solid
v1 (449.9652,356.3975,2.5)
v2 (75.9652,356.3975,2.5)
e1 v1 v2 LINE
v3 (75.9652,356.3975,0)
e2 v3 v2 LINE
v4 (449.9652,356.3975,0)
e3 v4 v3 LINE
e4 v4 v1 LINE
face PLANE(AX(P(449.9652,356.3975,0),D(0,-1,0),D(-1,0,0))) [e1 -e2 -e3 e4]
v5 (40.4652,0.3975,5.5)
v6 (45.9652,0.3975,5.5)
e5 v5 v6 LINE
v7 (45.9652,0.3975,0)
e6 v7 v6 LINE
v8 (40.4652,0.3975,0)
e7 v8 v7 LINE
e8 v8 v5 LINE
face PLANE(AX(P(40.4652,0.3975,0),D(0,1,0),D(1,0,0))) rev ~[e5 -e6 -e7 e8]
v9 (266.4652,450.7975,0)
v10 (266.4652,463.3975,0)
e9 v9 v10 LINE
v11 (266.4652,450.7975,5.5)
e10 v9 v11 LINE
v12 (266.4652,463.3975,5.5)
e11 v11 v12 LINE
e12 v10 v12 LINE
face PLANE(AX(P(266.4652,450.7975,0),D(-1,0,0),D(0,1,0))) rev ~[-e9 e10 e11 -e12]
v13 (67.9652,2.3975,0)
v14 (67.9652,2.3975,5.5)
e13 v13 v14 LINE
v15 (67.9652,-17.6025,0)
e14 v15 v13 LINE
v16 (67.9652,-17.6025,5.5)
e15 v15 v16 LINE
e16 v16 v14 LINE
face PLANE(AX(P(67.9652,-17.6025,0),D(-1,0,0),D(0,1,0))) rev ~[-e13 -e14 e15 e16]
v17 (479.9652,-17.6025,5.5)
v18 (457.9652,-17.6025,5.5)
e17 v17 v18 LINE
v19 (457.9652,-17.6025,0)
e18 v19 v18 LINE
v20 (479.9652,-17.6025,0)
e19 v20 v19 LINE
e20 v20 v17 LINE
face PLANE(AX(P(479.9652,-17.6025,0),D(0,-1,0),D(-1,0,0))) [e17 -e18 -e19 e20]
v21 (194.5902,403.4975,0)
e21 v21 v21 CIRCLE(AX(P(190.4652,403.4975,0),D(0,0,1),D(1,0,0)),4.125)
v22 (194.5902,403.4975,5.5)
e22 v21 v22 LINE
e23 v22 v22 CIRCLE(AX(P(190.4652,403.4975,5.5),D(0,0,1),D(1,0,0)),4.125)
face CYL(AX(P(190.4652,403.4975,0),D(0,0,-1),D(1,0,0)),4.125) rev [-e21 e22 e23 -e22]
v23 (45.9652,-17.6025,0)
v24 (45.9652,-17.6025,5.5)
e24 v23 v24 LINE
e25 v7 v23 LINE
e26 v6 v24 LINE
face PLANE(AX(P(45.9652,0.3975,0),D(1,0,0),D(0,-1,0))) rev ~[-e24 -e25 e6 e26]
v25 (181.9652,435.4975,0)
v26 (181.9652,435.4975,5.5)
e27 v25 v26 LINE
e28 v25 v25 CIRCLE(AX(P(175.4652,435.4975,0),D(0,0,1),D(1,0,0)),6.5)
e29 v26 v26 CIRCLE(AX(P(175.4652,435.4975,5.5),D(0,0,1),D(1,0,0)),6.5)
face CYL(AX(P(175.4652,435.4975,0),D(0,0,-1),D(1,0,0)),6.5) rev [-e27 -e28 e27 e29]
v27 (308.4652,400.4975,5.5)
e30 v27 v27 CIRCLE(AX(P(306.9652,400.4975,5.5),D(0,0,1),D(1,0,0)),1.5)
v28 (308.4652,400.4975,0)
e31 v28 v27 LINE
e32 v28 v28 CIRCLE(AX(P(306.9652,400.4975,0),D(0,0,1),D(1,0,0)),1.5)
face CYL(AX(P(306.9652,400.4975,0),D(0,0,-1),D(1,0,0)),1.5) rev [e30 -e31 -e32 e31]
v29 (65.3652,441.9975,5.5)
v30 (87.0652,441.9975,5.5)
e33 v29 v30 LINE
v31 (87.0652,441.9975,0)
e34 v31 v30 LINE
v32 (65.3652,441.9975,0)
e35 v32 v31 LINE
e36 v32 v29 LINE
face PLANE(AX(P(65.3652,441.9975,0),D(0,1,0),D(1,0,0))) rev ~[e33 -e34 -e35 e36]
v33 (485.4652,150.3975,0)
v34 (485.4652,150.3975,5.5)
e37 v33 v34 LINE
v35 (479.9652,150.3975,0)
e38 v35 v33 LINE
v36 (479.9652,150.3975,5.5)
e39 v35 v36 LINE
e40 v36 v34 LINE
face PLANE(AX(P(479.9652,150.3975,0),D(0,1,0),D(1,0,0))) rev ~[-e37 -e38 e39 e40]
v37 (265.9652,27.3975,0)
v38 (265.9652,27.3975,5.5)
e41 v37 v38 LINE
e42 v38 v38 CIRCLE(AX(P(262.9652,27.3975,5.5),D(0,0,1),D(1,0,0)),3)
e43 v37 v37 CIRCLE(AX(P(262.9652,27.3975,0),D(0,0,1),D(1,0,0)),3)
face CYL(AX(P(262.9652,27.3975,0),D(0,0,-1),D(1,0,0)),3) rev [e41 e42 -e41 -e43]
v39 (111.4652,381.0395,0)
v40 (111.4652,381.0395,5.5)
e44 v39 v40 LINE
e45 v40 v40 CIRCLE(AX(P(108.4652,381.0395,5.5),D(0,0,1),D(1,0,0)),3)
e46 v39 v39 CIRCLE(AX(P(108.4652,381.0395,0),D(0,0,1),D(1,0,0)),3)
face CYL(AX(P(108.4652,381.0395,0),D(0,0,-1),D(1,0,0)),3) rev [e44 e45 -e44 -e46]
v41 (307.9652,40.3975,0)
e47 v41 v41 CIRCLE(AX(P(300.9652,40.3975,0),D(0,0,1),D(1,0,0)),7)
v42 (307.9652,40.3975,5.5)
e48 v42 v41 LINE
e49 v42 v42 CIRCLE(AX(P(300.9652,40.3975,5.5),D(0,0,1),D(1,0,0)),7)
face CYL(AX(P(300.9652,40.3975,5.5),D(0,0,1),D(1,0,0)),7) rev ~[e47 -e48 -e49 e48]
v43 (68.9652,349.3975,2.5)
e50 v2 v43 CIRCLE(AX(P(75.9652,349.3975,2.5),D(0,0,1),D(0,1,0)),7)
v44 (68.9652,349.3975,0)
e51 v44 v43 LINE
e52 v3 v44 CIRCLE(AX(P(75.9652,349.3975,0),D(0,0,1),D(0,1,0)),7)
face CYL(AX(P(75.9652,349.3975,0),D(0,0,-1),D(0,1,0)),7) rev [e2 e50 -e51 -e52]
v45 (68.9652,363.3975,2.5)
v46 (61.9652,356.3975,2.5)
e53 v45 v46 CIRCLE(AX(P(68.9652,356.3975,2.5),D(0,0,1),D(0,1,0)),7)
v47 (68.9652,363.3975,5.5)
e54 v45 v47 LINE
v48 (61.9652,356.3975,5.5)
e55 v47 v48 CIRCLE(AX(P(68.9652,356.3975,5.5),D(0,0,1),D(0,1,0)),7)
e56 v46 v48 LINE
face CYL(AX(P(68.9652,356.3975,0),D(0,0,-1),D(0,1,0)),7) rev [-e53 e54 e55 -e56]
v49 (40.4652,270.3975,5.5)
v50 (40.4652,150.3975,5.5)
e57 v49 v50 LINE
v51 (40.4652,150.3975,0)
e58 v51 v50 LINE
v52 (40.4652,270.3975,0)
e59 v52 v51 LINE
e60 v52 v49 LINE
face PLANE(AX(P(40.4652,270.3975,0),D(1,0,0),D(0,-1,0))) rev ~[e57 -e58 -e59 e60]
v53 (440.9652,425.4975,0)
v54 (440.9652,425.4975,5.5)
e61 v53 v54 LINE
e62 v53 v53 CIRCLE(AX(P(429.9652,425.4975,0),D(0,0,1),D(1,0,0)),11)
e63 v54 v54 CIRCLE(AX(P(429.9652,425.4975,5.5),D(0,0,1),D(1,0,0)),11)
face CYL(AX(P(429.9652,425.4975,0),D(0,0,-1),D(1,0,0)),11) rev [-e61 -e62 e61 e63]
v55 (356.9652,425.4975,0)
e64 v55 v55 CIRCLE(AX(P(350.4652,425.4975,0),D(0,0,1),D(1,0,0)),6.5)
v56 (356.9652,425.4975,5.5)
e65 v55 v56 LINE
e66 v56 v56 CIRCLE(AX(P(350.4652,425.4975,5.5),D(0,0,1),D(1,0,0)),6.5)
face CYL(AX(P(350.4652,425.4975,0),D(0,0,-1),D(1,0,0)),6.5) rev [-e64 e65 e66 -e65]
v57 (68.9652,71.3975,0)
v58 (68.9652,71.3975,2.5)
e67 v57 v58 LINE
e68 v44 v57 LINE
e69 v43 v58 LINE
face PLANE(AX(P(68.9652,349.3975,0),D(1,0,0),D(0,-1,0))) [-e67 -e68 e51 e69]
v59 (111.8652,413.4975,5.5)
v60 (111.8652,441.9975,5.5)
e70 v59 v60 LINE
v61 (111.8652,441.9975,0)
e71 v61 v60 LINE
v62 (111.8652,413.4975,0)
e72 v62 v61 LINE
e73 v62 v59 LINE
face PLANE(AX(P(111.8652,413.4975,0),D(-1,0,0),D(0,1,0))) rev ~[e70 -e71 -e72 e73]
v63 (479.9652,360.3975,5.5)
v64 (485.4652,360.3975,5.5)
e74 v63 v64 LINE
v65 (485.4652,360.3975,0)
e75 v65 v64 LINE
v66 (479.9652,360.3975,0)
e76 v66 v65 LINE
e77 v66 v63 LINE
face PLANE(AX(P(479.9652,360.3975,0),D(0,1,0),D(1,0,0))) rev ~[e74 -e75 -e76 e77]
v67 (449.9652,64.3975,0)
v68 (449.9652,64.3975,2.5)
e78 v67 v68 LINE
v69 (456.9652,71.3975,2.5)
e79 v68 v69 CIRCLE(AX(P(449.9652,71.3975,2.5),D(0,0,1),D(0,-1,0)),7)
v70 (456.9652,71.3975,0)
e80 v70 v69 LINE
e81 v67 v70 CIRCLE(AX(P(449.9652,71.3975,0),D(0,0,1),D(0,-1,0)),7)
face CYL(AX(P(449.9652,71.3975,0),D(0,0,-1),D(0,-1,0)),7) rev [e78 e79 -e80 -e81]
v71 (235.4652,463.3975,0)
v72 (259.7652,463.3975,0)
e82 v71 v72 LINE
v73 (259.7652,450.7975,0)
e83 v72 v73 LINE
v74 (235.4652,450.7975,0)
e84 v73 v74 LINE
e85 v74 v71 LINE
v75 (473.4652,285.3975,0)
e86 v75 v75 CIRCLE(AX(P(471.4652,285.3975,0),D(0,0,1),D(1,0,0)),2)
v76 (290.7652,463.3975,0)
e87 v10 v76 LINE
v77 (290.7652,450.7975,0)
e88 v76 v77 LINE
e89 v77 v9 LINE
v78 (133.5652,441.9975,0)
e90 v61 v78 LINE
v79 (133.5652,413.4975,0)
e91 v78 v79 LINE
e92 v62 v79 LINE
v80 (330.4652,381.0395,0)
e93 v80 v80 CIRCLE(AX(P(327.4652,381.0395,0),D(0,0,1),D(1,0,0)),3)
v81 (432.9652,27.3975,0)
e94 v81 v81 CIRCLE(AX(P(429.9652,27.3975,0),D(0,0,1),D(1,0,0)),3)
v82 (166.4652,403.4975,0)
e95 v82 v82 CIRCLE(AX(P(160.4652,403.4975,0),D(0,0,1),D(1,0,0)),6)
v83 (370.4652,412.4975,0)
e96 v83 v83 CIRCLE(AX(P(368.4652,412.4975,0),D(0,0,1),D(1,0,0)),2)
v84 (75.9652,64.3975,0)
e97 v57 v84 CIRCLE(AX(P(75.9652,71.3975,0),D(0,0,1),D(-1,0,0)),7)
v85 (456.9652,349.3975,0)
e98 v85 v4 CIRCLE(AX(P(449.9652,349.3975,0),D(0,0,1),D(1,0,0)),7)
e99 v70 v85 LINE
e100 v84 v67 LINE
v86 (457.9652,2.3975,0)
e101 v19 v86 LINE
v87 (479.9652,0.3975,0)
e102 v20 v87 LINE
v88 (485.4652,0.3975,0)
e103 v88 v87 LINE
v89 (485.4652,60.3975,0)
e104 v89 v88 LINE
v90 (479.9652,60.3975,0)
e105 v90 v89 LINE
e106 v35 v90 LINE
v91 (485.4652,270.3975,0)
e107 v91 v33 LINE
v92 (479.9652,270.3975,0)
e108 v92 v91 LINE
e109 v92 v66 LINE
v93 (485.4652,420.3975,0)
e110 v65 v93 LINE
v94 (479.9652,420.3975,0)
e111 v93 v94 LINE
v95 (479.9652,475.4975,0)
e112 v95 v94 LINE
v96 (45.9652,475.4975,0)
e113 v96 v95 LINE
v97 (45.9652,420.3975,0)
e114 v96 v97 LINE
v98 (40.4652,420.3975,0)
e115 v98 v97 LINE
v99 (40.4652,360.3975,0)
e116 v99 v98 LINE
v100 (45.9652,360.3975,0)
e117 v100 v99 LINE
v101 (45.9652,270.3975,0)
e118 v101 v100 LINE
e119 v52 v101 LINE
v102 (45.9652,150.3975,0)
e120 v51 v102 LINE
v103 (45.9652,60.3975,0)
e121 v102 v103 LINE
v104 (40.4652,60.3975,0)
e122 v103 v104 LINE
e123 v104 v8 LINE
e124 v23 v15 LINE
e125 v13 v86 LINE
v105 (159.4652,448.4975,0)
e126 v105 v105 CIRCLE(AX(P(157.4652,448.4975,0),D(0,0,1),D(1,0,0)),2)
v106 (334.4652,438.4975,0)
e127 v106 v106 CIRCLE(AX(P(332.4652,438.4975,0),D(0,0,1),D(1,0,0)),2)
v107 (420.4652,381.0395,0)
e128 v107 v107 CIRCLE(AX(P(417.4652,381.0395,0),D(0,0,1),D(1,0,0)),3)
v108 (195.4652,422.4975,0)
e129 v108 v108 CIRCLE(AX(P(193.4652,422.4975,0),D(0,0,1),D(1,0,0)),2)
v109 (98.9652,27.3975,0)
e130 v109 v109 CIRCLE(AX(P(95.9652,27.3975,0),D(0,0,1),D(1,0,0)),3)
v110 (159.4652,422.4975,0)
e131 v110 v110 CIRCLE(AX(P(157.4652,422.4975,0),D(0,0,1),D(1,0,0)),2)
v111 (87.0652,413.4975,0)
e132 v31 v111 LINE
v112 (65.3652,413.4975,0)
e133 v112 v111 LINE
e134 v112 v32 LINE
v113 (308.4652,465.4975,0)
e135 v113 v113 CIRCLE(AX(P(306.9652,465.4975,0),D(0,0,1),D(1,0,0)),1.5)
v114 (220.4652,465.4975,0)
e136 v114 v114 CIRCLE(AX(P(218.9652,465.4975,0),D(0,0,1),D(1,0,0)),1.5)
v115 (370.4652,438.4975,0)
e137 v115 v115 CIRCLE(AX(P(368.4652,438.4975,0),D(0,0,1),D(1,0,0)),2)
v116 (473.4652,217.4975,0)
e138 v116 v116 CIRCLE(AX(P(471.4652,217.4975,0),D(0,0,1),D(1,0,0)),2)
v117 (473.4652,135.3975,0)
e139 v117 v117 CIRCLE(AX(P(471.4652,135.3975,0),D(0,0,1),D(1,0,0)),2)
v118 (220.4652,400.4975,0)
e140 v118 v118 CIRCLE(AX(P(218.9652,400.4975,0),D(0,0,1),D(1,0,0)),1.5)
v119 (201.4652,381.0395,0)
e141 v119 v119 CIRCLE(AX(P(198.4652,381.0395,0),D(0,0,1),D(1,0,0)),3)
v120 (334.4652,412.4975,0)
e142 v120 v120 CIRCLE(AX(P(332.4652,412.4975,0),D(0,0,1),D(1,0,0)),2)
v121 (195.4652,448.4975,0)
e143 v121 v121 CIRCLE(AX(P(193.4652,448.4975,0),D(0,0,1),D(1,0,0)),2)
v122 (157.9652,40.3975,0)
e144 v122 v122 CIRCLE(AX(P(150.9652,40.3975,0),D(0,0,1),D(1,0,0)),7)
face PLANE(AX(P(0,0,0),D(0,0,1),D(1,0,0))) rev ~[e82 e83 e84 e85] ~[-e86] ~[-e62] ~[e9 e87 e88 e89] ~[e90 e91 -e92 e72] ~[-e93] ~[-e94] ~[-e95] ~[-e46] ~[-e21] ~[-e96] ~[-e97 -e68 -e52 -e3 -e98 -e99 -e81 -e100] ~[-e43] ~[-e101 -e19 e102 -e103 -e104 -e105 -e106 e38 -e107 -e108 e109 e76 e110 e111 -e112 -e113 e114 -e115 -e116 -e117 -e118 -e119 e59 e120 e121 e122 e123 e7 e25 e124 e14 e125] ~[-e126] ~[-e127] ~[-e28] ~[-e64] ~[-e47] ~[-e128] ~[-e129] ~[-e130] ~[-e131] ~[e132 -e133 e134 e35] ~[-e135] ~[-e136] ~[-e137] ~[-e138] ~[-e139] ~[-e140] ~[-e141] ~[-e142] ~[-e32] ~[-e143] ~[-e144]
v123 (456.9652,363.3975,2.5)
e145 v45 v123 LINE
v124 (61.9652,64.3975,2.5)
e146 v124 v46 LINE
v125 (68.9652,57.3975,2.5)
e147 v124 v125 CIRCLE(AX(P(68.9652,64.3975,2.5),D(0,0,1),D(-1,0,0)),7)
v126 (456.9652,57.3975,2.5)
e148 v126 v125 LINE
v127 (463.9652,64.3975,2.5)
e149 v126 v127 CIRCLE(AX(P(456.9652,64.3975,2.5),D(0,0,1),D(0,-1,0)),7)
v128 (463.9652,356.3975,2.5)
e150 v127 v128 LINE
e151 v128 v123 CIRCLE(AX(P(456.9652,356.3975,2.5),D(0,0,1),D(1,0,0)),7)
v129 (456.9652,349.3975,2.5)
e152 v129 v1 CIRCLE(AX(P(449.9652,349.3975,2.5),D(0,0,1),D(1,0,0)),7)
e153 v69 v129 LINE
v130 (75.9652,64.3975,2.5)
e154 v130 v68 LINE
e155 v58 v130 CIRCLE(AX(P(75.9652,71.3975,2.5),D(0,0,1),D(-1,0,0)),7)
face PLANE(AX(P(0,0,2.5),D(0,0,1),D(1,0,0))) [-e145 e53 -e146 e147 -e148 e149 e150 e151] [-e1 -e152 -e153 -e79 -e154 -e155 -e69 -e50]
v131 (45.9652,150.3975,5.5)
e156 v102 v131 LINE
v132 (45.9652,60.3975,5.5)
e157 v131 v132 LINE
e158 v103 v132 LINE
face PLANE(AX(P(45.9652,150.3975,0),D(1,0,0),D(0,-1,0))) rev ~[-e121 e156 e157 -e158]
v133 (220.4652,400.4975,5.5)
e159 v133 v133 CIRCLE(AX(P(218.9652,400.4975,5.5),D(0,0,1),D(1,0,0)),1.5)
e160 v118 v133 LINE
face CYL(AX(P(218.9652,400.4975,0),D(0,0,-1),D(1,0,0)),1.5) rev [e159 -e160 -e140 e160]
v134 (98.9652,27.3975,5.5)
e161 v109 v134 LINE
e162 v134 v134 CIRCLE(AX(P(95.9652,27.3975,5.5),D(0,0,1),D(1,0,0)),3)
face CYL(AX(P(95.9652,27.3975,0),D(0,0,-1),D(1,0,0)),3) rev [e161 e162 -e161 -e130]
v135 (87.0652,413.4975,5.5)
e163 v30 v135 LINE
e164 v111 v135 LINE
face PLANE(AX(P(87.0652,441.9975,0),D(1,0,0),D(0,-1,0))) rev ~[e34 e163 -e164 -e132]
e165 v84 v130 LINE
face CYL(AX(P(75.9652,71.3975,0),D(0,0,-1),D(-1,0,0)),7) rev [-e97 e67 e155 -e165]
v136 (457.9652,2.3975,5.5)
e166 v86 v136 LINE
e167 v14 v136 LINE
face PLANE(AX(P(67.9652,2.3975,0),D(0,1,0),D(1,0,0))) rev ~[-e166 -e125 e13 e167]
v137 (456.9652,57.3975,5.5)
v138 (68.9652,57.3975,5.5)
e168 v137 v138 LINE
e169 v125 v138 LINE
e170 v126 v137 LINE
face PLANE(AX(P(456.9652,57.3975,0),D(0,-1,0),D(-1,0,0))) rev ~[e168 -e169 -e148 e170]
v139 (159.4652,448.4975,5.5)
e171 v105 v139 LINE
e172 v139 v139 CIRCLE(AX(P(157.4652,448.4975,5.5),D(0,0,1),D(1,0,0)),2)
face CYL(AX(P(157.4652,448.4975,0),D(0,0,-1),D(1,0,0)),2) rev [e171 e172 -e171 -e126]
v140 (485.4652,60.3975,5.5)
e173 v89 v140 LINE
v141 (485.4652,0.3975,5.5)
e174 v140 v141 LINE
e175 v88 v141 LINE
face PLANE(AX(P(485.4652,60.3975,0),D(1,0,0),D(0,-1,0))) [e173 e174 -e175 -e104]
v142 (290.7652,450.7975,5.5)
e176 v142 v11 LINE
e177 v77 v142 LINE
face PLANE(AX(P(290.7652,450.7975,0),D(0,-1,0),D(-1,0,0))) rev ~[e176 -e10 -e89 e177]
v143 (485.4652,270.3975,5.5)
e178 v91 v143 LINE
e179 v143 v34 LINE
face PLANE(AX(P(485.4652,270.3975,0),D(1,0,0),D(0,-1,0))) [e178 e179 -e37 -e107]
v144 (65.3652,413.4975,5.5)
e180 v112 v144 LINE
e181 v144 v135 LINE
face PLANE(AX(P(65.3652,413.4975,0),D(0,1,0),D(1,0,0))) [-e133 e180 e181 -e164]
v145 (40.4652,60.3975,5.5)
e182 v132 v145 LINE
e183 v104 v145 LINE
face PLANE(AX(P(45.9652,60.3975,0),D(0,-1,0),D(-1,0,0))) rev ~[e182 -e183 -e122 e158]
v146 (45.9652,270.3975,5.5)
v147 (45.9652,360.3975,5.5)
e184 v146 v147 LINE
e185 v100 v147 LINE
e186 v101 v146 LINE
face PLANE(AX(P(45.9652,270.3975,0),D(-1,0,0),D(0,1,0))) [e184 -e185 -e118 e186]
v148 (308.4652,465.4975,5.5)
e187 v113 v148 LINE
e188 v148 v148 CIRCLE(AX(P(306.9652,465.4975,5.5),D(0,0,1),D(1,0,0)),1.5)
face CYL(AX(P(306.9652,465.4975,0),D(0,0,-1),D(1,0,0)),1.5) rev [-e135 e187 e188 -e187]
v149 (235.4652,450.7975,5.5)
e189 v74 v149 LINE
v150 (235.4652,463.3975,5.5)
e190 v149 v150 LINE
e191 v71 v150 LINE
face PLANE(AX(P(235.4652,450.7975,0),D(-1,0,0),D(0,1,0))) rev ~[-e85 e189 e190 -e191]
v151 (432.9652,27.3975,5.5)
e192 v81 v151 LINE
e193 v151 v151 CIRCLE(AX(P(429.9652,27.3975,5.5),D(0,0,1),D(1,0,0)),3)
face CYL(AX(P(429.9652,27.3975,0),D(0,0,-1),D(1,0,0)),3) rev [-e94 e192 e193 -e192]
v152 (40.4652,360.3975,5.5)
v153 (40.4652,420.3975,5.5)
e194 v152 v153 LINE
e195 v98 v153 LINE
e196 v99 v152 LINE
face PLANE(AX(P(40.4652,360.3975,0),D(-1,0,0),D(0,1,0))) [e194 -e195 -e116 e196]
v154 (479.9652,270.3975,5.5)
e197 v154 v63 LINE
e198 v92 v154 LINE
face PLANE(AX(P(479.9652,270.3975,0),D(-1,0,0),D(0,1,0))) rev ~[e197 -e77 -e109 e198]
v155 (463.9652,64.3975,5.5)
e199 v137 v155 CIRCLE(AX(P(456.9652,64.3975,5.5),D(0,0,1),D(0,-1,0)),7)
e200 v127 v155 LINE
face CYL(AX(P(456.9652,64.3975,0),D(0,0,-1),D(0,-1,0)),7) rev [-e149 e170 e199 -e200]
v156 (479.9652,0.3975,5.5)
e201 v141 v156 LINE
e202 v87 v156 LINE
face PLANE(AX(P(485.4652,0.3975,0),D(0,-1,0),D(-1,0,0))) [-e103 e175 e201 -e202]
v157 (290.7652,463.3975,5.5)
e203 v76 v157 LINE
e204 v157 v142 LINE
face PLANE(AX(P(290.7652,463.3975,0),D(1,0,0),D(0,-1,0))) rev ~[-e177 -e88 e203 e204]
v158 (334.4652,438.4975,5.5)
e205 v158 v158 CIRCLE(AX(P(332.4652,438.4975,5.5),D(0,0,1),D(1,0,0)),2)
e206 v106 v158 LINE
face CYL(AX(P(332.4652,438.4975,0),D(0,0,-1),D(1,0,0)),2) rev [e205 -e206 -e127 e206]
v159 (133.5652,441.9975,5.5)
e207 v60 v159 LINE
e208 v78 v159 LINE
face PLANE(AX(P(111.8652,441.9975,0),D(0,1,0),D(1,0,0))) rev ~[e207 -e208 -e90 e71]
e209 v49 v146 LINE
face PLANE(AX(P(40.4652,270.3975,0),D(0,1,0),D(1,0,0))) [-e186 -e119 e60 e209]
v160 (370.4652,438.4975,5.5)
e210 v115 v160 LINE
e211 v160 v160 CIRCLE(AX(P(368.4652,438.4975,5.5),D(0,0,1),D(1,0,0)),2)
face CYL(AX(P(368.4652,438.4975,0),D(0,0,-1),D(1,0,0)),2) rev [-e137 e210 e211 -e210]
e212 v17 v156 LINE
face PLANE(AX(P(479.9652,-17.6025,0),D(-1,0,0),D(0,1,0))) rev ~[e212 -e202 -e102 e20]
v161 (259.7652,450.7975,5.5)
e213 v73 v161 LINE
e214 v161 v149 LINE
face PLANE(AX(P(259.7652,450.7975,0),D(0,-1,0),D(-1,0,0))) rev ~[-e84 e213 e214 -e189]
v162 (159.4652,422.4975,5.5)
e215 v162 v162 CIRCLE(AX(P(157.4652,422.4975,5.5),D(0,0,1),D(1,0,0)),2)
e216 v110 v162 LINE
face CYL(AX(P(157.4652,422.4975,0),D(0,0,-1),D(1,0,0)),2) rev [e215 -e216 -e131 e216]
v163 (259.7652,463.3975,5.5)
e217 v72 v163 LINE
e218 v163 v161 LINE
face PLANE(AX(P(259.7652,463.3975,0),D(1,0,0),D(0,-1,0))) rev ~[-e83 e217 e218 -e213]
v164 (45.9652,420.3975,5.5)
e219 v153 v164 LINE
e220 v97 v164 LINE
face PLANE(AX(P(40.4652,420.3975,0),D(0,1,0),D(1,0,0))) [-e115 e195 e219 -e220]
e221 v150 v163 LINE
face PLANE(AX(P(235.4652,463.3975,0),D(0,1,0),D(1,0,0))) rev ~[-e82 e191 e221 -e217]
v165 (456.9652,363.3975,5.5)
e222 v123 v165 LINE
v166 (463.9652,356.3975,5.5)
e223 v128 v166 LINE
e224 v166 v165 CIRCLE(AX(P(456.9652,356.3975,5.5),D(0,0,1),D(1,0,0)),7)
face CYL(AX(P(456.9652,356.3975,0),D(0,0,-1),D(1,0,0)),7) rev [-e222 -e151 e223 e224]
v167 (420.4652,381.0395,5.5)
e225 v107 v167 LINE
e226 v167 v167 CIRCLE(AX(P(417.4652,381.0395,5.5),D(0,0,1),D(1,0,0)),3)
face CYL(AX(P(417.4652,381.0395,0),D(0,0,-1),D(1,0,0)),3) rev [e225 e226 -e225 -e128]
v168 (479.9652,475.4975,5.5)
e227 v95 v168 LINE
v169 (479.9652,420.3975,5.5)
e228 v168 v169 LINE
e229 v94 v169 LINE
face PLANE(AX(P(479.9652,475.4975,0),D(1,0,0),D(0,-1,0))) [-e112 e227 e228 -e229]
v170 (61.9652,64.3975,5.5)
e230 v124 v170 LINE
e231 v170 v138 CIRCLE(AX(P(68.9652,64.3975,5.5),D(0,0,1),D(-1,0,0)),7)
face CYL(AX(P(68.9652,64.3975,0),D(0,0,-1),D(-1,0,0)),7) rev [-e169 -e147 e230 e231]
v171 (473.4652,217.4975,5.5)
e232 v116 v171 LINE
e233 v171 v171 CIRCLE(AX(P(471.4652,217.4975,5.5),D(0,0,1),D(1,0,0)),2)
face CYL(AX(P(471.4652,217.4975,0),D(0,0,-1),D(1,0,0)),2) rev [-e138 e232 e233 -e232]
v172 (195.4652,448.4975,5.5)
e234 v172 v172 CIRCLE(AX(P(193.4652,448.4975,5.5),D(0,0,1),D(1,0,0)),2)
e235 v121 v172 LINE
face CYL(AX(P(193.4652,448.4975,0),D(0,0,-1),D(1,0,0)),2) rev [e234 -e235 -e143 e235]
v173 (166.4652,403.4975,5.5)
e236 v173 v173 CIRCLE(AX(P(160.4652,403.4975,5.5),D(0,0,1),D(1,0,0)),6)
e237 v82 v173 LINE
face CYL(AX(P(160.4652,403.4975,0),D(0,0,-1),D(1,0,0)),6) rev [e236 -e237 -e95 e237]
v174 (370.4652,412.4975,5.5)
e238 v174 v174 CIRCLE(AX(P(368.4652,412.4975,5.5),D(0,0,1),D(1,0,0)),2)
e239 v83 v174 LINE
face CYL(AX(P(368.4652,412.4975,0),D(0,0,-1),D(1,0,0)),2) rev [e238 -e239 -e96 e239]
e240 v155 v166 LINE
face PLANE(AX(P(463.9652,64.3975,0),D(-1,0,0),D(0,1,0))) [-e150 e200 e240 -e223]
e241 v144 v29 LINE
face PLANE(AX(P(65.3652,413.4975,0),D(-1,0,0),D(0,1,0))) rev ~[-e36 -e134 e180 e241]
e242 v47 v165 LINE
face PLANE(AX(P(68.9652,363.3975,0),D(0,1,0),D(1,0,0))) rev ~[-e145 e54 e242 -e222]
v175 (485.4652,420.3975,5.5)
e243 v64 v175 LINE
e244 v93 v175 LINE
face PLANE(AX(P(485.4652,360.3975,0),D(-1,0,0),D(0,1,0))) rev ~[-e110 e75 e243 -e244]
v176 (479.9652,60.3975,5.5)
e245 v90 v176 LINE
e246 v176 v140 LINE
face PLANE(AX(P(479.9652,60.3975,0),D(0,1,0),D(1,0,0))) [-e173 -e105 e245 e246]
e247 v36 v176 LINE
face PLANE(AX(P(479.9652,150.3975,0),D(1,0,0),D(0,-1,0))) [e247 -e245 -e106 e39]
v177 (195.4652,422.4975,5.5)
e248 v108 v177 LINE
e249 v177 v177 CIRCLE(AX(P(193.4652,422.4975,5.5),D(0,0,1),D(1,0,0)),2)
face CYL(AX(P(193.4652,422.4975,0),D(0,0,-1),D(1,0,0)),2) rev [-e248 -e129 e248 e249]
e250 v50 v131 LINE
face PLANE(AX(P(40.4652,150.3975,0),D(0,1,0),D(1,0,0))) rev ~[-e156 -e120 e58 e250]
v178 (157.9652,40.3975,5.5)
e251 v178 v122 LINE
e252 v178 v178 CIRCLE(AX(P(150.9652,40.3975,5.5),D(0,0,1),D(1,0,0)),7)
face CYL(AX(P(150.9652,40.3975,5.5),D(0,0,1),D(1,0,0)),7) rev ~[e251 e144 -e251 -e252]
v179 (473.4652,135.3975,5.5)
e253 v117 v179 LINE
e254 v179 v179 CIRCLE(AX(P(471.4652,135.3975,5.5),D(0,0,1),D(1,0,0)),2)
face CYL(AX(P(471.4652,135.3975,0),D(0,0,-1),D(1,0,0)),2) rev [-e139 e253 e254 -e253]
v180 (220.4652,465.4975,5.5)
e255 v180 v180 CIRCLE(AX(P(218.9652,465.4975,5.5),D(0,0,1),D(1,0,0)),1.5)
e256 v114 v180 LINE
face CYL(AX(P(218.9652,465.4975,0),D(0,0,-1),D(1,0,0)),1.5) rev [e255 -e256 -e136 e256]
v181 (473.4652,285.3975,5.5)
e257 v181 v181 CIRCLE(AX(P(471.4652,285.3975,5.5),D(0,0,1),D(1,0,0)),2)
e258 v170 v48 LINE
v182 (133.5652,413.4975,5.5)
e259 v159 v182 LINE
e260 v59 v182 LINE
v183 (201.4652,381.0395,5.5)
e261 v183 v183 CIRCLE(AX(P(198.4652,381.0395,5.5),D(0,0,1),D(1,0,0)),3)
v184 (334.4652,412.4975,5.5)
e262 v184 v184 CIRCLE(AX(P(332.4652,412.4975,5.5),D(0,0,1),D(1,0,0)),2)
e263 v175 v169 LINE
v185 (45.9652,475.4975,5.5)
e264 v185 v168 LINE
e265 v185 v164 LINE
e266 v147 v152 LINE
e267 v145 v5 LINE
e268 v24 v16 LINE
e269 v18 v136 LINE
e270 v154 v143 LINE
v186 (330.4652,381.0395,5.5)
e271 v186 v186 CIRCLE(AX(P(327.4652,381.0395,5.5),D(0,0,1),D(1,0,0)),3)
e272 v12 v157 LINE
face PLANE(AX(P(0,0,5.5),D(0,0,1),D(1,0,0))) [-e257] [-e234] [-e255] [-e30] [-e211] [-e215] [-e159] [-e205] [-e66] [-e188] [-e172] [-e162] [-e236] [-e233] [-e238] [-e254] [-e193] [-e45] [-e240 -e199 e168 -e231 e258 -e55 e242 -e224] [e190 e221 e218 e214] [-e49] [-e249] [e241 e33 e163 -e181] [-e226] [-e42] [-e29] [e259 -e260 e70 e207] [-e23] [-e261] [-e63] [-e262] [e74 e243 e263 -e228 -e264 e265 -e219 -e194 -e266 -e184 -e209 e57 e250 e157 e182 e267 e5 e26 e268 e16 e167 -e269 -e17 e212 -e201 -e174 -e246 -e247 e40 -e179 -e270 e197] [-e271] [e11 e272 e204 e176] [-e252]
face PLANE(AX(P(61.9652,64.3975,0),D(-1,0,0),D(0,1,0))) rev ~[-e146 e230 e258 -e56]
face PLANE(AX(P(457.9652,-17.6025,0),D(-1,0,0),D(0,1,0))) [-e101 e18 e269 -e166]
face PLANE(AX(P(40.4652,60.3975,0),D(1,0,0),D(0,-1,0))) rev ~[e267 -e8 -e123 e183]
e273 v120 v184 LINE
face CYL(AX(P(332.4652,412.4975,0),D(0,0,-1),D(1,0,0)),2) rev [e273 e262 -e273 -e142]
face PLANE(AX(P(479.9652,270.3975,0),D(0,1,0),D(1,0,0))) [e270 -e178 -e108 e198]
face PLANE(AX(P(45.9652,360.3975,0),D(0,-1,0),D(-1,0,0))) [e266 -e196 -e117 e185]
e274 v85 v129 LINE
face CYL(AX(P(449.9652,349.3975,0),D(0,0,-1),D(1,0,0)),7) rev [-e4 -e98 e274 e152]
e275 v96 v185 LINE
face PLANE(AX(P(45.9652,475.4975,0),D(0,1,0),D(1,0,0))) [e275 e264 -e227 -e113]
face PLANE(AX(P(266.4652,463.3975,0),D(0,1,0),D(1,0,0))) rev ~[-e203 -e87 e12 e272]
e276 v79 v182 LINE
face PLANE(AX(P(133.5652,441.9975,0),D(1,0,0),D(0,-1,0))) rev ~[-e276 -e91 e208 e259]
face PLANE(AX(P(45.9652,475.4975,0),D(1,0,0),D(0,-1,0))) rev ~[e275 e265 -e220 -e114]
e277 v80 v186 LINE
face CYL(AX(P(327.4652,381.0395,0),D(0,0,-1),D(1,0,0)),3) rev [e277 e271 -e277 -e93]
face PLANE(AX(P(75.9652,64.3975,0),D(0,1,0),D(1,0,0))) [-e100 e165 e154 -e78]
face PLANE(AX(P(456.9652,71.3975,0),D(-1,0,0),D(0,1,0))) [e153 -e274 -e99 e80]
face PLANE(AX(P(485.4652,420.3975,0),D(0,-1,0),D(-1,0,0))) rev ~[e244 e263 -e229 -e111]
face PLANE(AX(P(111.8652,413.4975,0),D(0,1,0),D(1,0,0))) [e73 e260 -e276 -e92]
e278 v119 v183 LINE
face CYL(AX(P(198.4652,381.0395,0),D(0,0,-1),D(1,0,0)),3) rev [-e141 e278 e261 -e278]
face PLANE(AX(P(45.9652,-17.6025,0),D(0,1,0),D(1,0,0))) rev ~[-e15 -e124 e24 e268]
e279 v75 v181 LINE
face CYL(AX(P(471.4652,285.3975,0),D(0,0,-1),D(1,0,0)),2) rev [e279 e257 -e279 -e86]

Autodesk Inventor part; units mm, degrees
ref_plane "YZ Plane" through (0, 0, 0) normal (1, 0, 0) x (0, 1, 0)
ref_plane "XZ Plane" through (0, 0, 0) normal (0, 1, 0) x (-1, 0, 0)
ref_plane "XY Plane" through (0, 0, 0) normal (0, 0, 1) x (1, 0, 0)
sketch "Sketch1" plane through (0, 0, 0) normal (0, 0, 1) x (1, 0, 0)
  line L0 (67.9652, 2.3975) -> (457.9652, 2.3975)
  line L1 (479.9652, -17.6025) -> (457.9652, -17.6025)
  line L2 (457.9652, -17.6025) -> (457.9652, 2.3975)
  line L3 (45.9652, -17.6025) -> (67.9652, -17.6025)
  line L4 (67.9652, -17.6025) -> (67.9652, 2.3975)
  line L5 (479.9652, 59.8925) -> (479.9652, 59.8925)
  line L6 (456.9652, 57.3975) -> (68.9652, 57.3975)
  line L7 (36.9652, 522.3965) -> (36.9552, 522.3965)
  line L8 (463.9652, 64.3975) -> (463.9652, 356.3975)
  line L9 (61.9652, 64.3975) -> (61.9652, 356.3975)
  line L10 (68.9652, 363.3975) -> (456.9652, 363.3975)
  line L11 (479.9652, 150.3975) -> (485.4652, 150.3975)
  line L12 (479.9652, 270.3975) -> (485.4652, 270.3975)
  line L13 (485.4652, 270.3975) -> (485.4652, 150.3975)
  line L14 (40.4652, 270.3975) -> (40.4652, 150.3975)
  line L15 (40.4652, 150.3975) -> (45.9652, 150.3975)
  line L16 (40.4652, 270.3975) -> (45.9652, 270.3975)
  circle A0 centre (95.9652, 27.3975) radius 3
  circle A1 centre (429.9652, 27.3975) radius 3
  circle A2 centre (417.4652, 381.0395) radius 3
  circle A3 centre (108.4652, 381.0395) radius 3
  circle A4 centre (327.4652, 381.0395) radius 3
  circle A5 centre (198.4652, 381.0395) radius 3
  circle A6 centre (262.9652, 27.3975) radius 3
  circle A7 centre (471.4652, 135.3975) radius 2
  circle A8 centre (471.4652, 285.3975) radius 2
  line L17 (45.9652, 270.3975) -> (45.9652, 360.3975)
  line L18 (45.9652, 360.3975) -> (40.4652, 360.3975)
  line L19 (40.4652, 360.3975) -> (40.4652, 420.3975)
  line L20 (40.4652, 420.3975) -> (45.9652, 420.3975)
  line L21 (45.9652, 475.4975) -> (45.9652, 420.3975)
  line L22 (45.9652, 360.3975) -> (45.9652, 270.3975)
  line L23 (45.9652, 150.3975) -> (45.9652, 60.3975)
  line L24 (45.9652, 60.3975) -> (40.4652, 60.3975)
  line L25 (40.4652, 60.3975) -> (40.4652, 0.3975)
  line L26 (40.4652, 0.3975) -> (45.9652, 0.3975)
  line L27 (45.9652, 150.3975) -> (45.9652, 60.3975)
  line L28 (45.9652, 0.3975) -> (45.9652, -17.6025)
  line L29 (479.9652, 360.3975) -> (485.4652, 360.3975)
  line L30 (485.4652, 360.3975) -> (485.4652, 420.3975)
  line L31 (485.4652, 420.3975) -> (479.9652, 420.3975)
  line L32 (479.9652, 475.4975) -> (479.9652, 420.3975)
  line L33 (479.9652, 150.3975) -> (479.9652, 60.3975)
  line L34 (479.9652, 60.3975) -> (485.4652, 60.3975)
  line L35 (485.4652, 60.3975) -> (485.4652, 0.3975)
  line L36 (485.4652, 0.3975) -> (479.9652, 0.3975)
  line L37 (479.9652, -17.6025) -> (479.9652, 0.3975)
  line L38 (479.9652, 60.3975) -> (479.9652, 150.3975)
  line L39 (479.9652, 270.3975) -> (479.9652, 360.3975)
  line L40 (262.9652, 474.8975) -> (262.9652, 460.6682)
  circle A9 centre (218.9652, 465.4975) radius 1.5
  circle A10 centre (218.9652, 400.4975) radius 1.5
  circle A11 centre (306.9652, 465.4975) radius 1.5
  circle A12 centre (306.9652, 400.4975) radius 1.5
  line L41 (266.4652, 463.3975) -> (290.7652, 463.3975)
  line L42 (290.7652, 463.3975) -> (290.7652, 450.7975)
  line L43 (290.7652, 450.7975) -> (266.4652, 450.7975)
  line L44 (266.4652, 450.7975) -> (266.4652, 463.3975)
  line L45 (235.4652, 463.3975) -> (259.7652, 463.3975)
  line L46 (259.7652, 463.3975) -> (259.7652, 450.7975)
  line L47 (259.7652, 450.7975) -> (235.4652, 450.7975)
  line L48 (235.4652, 450.7975) -> (235.4652, 463.3975)
  line L49 (86.9652, 440.4975) -> (65.4652, 440.4975)
  line L50 (65.4652, 440.4975) -> (65.4652, 414.9975)
  line L51 (65.4652, 414.9975) -> (86.9652, 414.9975)
  line L52 (86.9652, 414.9975) -> (86.9652, 440.4975)
  line L53 (87.0652, 441.9975) -> (87.0652, 413.4975)
  line L54 (65.3652, 413.4975) -> (65.3652, 441.9975)
  line L55 (133.4652, 440.4975) -> (111.9652, 440.4975)
  line L56 (111.9652, 440.4975) -> (111.9652, 414.9975)
  line L57 (111.9652, 414.9975) -> (133.4652, 414.9975)
  line L58 (133.4652, 414.9975) -> (133.4652, 440.4975)
  line L59 (133.5652, 441.9975) -> (133.5652, 413.4975)
  line L60 (111.8652, 413.4975) -> (111.8652, 441.9975)
  circle A13 centre (160.4652, 403.4975) radius 6
  circle A14 centre (175.4652, 435.4975) radius 6.5
  circle A15 centre (350.4652, 425.4975) radius 6.5
  circle A16 centre (193.4652, 448.4975) radius 2
  circle A17 centre (193.4652, 422.4975) radius 2
  circle A18 centre (157.4652, 448.4975) radius 2
  circle A19 centre (157.4652, 422.4975) radius 2
  circle A20 centre (368.4652, 438.4975) radius 2
  circle A21 centre (368.4652, 412.4975) radius 2
  circle A22 centre (332.4652, 438.4975) radius 2
  circle A23 centre (332.4652, 412.4975) radius 2
  circle A24 centre (429.9652, 425.4975) radius 11
  circle A25 centre (190.4652, 403.4975) radius 4.125
  line L61 (45.9652, 475.4975) -> (479.9652, 475.4975)
  line L62 (65.3652, 441.9975) -> (87.0652, 441.9975)
  line L63 (65.3652, 413.4975) -> (87.0652, 413.4975)
  line L64 (111.8652, 441.9975) -> (133.5652, 441.9975)
  line L65 (111.8652, 413.4975) -> (133.5652, 413.4975)
  arc A26 (68.9652, 363.3975) -> (61.9652, 356.3975) centre (68.9652, 356.3975) ccw
  arc A27 (61.9652, 64.3975) -> (68.9652, 57.3975) centre (68.9652, 64.3975) ccw
  arc A28 (456.9652, 57.3975) -> (463.9652, 64.3975) centre (456.9652, 64.3975) ccw
  arc A29 (463.9652, 356.3975) -> (456.9652, 363.3975) centre (456.9652, 356.3975) ccw
  line L66 (449.9652, 356.3975) -> (75.9652, 356.3975)
  line L67 (68.9652, 349.3975) -> (68.9652, 71.3975)
  line L68 (75.9652, 64.3975) -> (449.9652, 64.3975)
  line L69 (456.9652, 71.3975) -> (456.9652, 349.3975)
  arc A30 (75.9652, 356.3975) -> (68.9652, 349.3975) centre (75.9652, 349.3975) ccw
  arc A31 (456.9652, 349.3975) -> (449.9652, 356.3975) centre (449.9652, 349.3975) ccw
  arc A32 (449.9652, 64.3975) -> (456.9652, 71.3975) centre (449.9652, 71.3975) ccw
  arc A33 (68.9652, 71.3975) -> (75.9652, 64.3975) centre (75.9652, 71.3975) ccw
  circle A34 centre (471.4652, 217.4975) radius 2
  point P0 (77.9853, 6.3978)
  point P1 (463.9652, 475.4975)
  dimension "d148" = 55
  dimension "d187" = 434
  dimension "d211" = 168
  dimension "d212" = 5.5
  dimension "d214" = 5.5
  dimension "d218" = 120
  dimension "d220" = 6
  dimension "d229" = 6
  dimension "d234" = 6
  dimension "d235" = 6
  dimension "d238" = 6
  dimension "d239" = 6
  dimension "d243" = 4
  dimension "d245" = 4
  dimension "d247" = 150
  dimension "d248" = 153
  dimension "d254" = 90
  dimension "d256" = 90
  dimension "d257" = 90
  dimension "d258" = 60
  dimension "d259" = 90
  dimension "d260" = 5.5
  dimension "d261" = 60
  dimension "d262" = 90
  dimension "d263" = 5.5
  dimension "d264" = 60
  dimension "d265" = 90
  dimension "d266" = 60
  dimension "d267" = 120
  dimension "d270" = 3
  dimension "d271" = 44
  dimension "d273" = 3
  dimension "d274" = 65
  dimension "d275" = 88
  dimension "d283" = 24.3
  dimension "d284" = 3.5
  dimension "d285" = 24.3
  dimension "d286" = 3.2
  dimension "d288" = 12.6
  dimension "d289" = 12.6
  dimension "d290" = 68
  dimension "d291" = 68
  dimension "d298" = 25
  dimension "d299" = 21.5
  dimension "d300" = 25.5
  dimension "d302" = 21.5
  dimension "d303" = 25.5
  dimension "d305" = 25
  dimension "d307" = 12
  dimension "d311" = 13
  dimension "d333" = 22
  dimension "d334" = 22
  dimension "d437" = 13
  dimension "d440" = 4
  dimension "d441" = 13
  dimension "d442" = 4
  dimension "d444" = 18
  dimension "d445" = 4
  dimension "d446" = 18
  dimension "d447" = 4
  dimension "d448" = 13
  dimension "d449" = 18
  dimension "d450" = 4
  dimension "d451" = 4
extrude "Extrusion6" add sketch "Sketch1" along normal blind 5.5 contours L4 L3 L28 L26 L25 L24 L23 L15 L14 L16 L17 L18 L19 L20 L21 L61 L32 L31 L30 L29 L39 L12 L13 L11 L33 L34 L35 L36 L37 L1 L2 L0
extrude "Extrusión9" add sketch "Sketch1" along normal blind 2.5 contours L6 A27 L9 A26 L10 A29 L8 A28
sketch "Boceto2" plane through (0, 0, 5.5) normal (0, 0, 1) x (1, 0, 0)
  line L0 (67.9652, 2.3975) -> (457.9652, 2.3975) projected
  circle A0 centre (150.9652, 40.3975) radius 7
  circle A1 centre (300.9652, 40.3975) radius 7
  line L1 (45.9652, 150.3975) -> (45.9652, 60.3975) projected
  line L2 (45.9652, 60.3975) -> (45.9652, 2.3975)
  dimension "d159" = 14
  dimension "d162" = 14
  dimension "d165" = 150
  dimension "d269" = 105
extrude "Extrusión10" cut sketch "Boceto2" against normal blind 9
properties part number "Frente Carcasa" material "MDF Medium Density Fiberboard"
